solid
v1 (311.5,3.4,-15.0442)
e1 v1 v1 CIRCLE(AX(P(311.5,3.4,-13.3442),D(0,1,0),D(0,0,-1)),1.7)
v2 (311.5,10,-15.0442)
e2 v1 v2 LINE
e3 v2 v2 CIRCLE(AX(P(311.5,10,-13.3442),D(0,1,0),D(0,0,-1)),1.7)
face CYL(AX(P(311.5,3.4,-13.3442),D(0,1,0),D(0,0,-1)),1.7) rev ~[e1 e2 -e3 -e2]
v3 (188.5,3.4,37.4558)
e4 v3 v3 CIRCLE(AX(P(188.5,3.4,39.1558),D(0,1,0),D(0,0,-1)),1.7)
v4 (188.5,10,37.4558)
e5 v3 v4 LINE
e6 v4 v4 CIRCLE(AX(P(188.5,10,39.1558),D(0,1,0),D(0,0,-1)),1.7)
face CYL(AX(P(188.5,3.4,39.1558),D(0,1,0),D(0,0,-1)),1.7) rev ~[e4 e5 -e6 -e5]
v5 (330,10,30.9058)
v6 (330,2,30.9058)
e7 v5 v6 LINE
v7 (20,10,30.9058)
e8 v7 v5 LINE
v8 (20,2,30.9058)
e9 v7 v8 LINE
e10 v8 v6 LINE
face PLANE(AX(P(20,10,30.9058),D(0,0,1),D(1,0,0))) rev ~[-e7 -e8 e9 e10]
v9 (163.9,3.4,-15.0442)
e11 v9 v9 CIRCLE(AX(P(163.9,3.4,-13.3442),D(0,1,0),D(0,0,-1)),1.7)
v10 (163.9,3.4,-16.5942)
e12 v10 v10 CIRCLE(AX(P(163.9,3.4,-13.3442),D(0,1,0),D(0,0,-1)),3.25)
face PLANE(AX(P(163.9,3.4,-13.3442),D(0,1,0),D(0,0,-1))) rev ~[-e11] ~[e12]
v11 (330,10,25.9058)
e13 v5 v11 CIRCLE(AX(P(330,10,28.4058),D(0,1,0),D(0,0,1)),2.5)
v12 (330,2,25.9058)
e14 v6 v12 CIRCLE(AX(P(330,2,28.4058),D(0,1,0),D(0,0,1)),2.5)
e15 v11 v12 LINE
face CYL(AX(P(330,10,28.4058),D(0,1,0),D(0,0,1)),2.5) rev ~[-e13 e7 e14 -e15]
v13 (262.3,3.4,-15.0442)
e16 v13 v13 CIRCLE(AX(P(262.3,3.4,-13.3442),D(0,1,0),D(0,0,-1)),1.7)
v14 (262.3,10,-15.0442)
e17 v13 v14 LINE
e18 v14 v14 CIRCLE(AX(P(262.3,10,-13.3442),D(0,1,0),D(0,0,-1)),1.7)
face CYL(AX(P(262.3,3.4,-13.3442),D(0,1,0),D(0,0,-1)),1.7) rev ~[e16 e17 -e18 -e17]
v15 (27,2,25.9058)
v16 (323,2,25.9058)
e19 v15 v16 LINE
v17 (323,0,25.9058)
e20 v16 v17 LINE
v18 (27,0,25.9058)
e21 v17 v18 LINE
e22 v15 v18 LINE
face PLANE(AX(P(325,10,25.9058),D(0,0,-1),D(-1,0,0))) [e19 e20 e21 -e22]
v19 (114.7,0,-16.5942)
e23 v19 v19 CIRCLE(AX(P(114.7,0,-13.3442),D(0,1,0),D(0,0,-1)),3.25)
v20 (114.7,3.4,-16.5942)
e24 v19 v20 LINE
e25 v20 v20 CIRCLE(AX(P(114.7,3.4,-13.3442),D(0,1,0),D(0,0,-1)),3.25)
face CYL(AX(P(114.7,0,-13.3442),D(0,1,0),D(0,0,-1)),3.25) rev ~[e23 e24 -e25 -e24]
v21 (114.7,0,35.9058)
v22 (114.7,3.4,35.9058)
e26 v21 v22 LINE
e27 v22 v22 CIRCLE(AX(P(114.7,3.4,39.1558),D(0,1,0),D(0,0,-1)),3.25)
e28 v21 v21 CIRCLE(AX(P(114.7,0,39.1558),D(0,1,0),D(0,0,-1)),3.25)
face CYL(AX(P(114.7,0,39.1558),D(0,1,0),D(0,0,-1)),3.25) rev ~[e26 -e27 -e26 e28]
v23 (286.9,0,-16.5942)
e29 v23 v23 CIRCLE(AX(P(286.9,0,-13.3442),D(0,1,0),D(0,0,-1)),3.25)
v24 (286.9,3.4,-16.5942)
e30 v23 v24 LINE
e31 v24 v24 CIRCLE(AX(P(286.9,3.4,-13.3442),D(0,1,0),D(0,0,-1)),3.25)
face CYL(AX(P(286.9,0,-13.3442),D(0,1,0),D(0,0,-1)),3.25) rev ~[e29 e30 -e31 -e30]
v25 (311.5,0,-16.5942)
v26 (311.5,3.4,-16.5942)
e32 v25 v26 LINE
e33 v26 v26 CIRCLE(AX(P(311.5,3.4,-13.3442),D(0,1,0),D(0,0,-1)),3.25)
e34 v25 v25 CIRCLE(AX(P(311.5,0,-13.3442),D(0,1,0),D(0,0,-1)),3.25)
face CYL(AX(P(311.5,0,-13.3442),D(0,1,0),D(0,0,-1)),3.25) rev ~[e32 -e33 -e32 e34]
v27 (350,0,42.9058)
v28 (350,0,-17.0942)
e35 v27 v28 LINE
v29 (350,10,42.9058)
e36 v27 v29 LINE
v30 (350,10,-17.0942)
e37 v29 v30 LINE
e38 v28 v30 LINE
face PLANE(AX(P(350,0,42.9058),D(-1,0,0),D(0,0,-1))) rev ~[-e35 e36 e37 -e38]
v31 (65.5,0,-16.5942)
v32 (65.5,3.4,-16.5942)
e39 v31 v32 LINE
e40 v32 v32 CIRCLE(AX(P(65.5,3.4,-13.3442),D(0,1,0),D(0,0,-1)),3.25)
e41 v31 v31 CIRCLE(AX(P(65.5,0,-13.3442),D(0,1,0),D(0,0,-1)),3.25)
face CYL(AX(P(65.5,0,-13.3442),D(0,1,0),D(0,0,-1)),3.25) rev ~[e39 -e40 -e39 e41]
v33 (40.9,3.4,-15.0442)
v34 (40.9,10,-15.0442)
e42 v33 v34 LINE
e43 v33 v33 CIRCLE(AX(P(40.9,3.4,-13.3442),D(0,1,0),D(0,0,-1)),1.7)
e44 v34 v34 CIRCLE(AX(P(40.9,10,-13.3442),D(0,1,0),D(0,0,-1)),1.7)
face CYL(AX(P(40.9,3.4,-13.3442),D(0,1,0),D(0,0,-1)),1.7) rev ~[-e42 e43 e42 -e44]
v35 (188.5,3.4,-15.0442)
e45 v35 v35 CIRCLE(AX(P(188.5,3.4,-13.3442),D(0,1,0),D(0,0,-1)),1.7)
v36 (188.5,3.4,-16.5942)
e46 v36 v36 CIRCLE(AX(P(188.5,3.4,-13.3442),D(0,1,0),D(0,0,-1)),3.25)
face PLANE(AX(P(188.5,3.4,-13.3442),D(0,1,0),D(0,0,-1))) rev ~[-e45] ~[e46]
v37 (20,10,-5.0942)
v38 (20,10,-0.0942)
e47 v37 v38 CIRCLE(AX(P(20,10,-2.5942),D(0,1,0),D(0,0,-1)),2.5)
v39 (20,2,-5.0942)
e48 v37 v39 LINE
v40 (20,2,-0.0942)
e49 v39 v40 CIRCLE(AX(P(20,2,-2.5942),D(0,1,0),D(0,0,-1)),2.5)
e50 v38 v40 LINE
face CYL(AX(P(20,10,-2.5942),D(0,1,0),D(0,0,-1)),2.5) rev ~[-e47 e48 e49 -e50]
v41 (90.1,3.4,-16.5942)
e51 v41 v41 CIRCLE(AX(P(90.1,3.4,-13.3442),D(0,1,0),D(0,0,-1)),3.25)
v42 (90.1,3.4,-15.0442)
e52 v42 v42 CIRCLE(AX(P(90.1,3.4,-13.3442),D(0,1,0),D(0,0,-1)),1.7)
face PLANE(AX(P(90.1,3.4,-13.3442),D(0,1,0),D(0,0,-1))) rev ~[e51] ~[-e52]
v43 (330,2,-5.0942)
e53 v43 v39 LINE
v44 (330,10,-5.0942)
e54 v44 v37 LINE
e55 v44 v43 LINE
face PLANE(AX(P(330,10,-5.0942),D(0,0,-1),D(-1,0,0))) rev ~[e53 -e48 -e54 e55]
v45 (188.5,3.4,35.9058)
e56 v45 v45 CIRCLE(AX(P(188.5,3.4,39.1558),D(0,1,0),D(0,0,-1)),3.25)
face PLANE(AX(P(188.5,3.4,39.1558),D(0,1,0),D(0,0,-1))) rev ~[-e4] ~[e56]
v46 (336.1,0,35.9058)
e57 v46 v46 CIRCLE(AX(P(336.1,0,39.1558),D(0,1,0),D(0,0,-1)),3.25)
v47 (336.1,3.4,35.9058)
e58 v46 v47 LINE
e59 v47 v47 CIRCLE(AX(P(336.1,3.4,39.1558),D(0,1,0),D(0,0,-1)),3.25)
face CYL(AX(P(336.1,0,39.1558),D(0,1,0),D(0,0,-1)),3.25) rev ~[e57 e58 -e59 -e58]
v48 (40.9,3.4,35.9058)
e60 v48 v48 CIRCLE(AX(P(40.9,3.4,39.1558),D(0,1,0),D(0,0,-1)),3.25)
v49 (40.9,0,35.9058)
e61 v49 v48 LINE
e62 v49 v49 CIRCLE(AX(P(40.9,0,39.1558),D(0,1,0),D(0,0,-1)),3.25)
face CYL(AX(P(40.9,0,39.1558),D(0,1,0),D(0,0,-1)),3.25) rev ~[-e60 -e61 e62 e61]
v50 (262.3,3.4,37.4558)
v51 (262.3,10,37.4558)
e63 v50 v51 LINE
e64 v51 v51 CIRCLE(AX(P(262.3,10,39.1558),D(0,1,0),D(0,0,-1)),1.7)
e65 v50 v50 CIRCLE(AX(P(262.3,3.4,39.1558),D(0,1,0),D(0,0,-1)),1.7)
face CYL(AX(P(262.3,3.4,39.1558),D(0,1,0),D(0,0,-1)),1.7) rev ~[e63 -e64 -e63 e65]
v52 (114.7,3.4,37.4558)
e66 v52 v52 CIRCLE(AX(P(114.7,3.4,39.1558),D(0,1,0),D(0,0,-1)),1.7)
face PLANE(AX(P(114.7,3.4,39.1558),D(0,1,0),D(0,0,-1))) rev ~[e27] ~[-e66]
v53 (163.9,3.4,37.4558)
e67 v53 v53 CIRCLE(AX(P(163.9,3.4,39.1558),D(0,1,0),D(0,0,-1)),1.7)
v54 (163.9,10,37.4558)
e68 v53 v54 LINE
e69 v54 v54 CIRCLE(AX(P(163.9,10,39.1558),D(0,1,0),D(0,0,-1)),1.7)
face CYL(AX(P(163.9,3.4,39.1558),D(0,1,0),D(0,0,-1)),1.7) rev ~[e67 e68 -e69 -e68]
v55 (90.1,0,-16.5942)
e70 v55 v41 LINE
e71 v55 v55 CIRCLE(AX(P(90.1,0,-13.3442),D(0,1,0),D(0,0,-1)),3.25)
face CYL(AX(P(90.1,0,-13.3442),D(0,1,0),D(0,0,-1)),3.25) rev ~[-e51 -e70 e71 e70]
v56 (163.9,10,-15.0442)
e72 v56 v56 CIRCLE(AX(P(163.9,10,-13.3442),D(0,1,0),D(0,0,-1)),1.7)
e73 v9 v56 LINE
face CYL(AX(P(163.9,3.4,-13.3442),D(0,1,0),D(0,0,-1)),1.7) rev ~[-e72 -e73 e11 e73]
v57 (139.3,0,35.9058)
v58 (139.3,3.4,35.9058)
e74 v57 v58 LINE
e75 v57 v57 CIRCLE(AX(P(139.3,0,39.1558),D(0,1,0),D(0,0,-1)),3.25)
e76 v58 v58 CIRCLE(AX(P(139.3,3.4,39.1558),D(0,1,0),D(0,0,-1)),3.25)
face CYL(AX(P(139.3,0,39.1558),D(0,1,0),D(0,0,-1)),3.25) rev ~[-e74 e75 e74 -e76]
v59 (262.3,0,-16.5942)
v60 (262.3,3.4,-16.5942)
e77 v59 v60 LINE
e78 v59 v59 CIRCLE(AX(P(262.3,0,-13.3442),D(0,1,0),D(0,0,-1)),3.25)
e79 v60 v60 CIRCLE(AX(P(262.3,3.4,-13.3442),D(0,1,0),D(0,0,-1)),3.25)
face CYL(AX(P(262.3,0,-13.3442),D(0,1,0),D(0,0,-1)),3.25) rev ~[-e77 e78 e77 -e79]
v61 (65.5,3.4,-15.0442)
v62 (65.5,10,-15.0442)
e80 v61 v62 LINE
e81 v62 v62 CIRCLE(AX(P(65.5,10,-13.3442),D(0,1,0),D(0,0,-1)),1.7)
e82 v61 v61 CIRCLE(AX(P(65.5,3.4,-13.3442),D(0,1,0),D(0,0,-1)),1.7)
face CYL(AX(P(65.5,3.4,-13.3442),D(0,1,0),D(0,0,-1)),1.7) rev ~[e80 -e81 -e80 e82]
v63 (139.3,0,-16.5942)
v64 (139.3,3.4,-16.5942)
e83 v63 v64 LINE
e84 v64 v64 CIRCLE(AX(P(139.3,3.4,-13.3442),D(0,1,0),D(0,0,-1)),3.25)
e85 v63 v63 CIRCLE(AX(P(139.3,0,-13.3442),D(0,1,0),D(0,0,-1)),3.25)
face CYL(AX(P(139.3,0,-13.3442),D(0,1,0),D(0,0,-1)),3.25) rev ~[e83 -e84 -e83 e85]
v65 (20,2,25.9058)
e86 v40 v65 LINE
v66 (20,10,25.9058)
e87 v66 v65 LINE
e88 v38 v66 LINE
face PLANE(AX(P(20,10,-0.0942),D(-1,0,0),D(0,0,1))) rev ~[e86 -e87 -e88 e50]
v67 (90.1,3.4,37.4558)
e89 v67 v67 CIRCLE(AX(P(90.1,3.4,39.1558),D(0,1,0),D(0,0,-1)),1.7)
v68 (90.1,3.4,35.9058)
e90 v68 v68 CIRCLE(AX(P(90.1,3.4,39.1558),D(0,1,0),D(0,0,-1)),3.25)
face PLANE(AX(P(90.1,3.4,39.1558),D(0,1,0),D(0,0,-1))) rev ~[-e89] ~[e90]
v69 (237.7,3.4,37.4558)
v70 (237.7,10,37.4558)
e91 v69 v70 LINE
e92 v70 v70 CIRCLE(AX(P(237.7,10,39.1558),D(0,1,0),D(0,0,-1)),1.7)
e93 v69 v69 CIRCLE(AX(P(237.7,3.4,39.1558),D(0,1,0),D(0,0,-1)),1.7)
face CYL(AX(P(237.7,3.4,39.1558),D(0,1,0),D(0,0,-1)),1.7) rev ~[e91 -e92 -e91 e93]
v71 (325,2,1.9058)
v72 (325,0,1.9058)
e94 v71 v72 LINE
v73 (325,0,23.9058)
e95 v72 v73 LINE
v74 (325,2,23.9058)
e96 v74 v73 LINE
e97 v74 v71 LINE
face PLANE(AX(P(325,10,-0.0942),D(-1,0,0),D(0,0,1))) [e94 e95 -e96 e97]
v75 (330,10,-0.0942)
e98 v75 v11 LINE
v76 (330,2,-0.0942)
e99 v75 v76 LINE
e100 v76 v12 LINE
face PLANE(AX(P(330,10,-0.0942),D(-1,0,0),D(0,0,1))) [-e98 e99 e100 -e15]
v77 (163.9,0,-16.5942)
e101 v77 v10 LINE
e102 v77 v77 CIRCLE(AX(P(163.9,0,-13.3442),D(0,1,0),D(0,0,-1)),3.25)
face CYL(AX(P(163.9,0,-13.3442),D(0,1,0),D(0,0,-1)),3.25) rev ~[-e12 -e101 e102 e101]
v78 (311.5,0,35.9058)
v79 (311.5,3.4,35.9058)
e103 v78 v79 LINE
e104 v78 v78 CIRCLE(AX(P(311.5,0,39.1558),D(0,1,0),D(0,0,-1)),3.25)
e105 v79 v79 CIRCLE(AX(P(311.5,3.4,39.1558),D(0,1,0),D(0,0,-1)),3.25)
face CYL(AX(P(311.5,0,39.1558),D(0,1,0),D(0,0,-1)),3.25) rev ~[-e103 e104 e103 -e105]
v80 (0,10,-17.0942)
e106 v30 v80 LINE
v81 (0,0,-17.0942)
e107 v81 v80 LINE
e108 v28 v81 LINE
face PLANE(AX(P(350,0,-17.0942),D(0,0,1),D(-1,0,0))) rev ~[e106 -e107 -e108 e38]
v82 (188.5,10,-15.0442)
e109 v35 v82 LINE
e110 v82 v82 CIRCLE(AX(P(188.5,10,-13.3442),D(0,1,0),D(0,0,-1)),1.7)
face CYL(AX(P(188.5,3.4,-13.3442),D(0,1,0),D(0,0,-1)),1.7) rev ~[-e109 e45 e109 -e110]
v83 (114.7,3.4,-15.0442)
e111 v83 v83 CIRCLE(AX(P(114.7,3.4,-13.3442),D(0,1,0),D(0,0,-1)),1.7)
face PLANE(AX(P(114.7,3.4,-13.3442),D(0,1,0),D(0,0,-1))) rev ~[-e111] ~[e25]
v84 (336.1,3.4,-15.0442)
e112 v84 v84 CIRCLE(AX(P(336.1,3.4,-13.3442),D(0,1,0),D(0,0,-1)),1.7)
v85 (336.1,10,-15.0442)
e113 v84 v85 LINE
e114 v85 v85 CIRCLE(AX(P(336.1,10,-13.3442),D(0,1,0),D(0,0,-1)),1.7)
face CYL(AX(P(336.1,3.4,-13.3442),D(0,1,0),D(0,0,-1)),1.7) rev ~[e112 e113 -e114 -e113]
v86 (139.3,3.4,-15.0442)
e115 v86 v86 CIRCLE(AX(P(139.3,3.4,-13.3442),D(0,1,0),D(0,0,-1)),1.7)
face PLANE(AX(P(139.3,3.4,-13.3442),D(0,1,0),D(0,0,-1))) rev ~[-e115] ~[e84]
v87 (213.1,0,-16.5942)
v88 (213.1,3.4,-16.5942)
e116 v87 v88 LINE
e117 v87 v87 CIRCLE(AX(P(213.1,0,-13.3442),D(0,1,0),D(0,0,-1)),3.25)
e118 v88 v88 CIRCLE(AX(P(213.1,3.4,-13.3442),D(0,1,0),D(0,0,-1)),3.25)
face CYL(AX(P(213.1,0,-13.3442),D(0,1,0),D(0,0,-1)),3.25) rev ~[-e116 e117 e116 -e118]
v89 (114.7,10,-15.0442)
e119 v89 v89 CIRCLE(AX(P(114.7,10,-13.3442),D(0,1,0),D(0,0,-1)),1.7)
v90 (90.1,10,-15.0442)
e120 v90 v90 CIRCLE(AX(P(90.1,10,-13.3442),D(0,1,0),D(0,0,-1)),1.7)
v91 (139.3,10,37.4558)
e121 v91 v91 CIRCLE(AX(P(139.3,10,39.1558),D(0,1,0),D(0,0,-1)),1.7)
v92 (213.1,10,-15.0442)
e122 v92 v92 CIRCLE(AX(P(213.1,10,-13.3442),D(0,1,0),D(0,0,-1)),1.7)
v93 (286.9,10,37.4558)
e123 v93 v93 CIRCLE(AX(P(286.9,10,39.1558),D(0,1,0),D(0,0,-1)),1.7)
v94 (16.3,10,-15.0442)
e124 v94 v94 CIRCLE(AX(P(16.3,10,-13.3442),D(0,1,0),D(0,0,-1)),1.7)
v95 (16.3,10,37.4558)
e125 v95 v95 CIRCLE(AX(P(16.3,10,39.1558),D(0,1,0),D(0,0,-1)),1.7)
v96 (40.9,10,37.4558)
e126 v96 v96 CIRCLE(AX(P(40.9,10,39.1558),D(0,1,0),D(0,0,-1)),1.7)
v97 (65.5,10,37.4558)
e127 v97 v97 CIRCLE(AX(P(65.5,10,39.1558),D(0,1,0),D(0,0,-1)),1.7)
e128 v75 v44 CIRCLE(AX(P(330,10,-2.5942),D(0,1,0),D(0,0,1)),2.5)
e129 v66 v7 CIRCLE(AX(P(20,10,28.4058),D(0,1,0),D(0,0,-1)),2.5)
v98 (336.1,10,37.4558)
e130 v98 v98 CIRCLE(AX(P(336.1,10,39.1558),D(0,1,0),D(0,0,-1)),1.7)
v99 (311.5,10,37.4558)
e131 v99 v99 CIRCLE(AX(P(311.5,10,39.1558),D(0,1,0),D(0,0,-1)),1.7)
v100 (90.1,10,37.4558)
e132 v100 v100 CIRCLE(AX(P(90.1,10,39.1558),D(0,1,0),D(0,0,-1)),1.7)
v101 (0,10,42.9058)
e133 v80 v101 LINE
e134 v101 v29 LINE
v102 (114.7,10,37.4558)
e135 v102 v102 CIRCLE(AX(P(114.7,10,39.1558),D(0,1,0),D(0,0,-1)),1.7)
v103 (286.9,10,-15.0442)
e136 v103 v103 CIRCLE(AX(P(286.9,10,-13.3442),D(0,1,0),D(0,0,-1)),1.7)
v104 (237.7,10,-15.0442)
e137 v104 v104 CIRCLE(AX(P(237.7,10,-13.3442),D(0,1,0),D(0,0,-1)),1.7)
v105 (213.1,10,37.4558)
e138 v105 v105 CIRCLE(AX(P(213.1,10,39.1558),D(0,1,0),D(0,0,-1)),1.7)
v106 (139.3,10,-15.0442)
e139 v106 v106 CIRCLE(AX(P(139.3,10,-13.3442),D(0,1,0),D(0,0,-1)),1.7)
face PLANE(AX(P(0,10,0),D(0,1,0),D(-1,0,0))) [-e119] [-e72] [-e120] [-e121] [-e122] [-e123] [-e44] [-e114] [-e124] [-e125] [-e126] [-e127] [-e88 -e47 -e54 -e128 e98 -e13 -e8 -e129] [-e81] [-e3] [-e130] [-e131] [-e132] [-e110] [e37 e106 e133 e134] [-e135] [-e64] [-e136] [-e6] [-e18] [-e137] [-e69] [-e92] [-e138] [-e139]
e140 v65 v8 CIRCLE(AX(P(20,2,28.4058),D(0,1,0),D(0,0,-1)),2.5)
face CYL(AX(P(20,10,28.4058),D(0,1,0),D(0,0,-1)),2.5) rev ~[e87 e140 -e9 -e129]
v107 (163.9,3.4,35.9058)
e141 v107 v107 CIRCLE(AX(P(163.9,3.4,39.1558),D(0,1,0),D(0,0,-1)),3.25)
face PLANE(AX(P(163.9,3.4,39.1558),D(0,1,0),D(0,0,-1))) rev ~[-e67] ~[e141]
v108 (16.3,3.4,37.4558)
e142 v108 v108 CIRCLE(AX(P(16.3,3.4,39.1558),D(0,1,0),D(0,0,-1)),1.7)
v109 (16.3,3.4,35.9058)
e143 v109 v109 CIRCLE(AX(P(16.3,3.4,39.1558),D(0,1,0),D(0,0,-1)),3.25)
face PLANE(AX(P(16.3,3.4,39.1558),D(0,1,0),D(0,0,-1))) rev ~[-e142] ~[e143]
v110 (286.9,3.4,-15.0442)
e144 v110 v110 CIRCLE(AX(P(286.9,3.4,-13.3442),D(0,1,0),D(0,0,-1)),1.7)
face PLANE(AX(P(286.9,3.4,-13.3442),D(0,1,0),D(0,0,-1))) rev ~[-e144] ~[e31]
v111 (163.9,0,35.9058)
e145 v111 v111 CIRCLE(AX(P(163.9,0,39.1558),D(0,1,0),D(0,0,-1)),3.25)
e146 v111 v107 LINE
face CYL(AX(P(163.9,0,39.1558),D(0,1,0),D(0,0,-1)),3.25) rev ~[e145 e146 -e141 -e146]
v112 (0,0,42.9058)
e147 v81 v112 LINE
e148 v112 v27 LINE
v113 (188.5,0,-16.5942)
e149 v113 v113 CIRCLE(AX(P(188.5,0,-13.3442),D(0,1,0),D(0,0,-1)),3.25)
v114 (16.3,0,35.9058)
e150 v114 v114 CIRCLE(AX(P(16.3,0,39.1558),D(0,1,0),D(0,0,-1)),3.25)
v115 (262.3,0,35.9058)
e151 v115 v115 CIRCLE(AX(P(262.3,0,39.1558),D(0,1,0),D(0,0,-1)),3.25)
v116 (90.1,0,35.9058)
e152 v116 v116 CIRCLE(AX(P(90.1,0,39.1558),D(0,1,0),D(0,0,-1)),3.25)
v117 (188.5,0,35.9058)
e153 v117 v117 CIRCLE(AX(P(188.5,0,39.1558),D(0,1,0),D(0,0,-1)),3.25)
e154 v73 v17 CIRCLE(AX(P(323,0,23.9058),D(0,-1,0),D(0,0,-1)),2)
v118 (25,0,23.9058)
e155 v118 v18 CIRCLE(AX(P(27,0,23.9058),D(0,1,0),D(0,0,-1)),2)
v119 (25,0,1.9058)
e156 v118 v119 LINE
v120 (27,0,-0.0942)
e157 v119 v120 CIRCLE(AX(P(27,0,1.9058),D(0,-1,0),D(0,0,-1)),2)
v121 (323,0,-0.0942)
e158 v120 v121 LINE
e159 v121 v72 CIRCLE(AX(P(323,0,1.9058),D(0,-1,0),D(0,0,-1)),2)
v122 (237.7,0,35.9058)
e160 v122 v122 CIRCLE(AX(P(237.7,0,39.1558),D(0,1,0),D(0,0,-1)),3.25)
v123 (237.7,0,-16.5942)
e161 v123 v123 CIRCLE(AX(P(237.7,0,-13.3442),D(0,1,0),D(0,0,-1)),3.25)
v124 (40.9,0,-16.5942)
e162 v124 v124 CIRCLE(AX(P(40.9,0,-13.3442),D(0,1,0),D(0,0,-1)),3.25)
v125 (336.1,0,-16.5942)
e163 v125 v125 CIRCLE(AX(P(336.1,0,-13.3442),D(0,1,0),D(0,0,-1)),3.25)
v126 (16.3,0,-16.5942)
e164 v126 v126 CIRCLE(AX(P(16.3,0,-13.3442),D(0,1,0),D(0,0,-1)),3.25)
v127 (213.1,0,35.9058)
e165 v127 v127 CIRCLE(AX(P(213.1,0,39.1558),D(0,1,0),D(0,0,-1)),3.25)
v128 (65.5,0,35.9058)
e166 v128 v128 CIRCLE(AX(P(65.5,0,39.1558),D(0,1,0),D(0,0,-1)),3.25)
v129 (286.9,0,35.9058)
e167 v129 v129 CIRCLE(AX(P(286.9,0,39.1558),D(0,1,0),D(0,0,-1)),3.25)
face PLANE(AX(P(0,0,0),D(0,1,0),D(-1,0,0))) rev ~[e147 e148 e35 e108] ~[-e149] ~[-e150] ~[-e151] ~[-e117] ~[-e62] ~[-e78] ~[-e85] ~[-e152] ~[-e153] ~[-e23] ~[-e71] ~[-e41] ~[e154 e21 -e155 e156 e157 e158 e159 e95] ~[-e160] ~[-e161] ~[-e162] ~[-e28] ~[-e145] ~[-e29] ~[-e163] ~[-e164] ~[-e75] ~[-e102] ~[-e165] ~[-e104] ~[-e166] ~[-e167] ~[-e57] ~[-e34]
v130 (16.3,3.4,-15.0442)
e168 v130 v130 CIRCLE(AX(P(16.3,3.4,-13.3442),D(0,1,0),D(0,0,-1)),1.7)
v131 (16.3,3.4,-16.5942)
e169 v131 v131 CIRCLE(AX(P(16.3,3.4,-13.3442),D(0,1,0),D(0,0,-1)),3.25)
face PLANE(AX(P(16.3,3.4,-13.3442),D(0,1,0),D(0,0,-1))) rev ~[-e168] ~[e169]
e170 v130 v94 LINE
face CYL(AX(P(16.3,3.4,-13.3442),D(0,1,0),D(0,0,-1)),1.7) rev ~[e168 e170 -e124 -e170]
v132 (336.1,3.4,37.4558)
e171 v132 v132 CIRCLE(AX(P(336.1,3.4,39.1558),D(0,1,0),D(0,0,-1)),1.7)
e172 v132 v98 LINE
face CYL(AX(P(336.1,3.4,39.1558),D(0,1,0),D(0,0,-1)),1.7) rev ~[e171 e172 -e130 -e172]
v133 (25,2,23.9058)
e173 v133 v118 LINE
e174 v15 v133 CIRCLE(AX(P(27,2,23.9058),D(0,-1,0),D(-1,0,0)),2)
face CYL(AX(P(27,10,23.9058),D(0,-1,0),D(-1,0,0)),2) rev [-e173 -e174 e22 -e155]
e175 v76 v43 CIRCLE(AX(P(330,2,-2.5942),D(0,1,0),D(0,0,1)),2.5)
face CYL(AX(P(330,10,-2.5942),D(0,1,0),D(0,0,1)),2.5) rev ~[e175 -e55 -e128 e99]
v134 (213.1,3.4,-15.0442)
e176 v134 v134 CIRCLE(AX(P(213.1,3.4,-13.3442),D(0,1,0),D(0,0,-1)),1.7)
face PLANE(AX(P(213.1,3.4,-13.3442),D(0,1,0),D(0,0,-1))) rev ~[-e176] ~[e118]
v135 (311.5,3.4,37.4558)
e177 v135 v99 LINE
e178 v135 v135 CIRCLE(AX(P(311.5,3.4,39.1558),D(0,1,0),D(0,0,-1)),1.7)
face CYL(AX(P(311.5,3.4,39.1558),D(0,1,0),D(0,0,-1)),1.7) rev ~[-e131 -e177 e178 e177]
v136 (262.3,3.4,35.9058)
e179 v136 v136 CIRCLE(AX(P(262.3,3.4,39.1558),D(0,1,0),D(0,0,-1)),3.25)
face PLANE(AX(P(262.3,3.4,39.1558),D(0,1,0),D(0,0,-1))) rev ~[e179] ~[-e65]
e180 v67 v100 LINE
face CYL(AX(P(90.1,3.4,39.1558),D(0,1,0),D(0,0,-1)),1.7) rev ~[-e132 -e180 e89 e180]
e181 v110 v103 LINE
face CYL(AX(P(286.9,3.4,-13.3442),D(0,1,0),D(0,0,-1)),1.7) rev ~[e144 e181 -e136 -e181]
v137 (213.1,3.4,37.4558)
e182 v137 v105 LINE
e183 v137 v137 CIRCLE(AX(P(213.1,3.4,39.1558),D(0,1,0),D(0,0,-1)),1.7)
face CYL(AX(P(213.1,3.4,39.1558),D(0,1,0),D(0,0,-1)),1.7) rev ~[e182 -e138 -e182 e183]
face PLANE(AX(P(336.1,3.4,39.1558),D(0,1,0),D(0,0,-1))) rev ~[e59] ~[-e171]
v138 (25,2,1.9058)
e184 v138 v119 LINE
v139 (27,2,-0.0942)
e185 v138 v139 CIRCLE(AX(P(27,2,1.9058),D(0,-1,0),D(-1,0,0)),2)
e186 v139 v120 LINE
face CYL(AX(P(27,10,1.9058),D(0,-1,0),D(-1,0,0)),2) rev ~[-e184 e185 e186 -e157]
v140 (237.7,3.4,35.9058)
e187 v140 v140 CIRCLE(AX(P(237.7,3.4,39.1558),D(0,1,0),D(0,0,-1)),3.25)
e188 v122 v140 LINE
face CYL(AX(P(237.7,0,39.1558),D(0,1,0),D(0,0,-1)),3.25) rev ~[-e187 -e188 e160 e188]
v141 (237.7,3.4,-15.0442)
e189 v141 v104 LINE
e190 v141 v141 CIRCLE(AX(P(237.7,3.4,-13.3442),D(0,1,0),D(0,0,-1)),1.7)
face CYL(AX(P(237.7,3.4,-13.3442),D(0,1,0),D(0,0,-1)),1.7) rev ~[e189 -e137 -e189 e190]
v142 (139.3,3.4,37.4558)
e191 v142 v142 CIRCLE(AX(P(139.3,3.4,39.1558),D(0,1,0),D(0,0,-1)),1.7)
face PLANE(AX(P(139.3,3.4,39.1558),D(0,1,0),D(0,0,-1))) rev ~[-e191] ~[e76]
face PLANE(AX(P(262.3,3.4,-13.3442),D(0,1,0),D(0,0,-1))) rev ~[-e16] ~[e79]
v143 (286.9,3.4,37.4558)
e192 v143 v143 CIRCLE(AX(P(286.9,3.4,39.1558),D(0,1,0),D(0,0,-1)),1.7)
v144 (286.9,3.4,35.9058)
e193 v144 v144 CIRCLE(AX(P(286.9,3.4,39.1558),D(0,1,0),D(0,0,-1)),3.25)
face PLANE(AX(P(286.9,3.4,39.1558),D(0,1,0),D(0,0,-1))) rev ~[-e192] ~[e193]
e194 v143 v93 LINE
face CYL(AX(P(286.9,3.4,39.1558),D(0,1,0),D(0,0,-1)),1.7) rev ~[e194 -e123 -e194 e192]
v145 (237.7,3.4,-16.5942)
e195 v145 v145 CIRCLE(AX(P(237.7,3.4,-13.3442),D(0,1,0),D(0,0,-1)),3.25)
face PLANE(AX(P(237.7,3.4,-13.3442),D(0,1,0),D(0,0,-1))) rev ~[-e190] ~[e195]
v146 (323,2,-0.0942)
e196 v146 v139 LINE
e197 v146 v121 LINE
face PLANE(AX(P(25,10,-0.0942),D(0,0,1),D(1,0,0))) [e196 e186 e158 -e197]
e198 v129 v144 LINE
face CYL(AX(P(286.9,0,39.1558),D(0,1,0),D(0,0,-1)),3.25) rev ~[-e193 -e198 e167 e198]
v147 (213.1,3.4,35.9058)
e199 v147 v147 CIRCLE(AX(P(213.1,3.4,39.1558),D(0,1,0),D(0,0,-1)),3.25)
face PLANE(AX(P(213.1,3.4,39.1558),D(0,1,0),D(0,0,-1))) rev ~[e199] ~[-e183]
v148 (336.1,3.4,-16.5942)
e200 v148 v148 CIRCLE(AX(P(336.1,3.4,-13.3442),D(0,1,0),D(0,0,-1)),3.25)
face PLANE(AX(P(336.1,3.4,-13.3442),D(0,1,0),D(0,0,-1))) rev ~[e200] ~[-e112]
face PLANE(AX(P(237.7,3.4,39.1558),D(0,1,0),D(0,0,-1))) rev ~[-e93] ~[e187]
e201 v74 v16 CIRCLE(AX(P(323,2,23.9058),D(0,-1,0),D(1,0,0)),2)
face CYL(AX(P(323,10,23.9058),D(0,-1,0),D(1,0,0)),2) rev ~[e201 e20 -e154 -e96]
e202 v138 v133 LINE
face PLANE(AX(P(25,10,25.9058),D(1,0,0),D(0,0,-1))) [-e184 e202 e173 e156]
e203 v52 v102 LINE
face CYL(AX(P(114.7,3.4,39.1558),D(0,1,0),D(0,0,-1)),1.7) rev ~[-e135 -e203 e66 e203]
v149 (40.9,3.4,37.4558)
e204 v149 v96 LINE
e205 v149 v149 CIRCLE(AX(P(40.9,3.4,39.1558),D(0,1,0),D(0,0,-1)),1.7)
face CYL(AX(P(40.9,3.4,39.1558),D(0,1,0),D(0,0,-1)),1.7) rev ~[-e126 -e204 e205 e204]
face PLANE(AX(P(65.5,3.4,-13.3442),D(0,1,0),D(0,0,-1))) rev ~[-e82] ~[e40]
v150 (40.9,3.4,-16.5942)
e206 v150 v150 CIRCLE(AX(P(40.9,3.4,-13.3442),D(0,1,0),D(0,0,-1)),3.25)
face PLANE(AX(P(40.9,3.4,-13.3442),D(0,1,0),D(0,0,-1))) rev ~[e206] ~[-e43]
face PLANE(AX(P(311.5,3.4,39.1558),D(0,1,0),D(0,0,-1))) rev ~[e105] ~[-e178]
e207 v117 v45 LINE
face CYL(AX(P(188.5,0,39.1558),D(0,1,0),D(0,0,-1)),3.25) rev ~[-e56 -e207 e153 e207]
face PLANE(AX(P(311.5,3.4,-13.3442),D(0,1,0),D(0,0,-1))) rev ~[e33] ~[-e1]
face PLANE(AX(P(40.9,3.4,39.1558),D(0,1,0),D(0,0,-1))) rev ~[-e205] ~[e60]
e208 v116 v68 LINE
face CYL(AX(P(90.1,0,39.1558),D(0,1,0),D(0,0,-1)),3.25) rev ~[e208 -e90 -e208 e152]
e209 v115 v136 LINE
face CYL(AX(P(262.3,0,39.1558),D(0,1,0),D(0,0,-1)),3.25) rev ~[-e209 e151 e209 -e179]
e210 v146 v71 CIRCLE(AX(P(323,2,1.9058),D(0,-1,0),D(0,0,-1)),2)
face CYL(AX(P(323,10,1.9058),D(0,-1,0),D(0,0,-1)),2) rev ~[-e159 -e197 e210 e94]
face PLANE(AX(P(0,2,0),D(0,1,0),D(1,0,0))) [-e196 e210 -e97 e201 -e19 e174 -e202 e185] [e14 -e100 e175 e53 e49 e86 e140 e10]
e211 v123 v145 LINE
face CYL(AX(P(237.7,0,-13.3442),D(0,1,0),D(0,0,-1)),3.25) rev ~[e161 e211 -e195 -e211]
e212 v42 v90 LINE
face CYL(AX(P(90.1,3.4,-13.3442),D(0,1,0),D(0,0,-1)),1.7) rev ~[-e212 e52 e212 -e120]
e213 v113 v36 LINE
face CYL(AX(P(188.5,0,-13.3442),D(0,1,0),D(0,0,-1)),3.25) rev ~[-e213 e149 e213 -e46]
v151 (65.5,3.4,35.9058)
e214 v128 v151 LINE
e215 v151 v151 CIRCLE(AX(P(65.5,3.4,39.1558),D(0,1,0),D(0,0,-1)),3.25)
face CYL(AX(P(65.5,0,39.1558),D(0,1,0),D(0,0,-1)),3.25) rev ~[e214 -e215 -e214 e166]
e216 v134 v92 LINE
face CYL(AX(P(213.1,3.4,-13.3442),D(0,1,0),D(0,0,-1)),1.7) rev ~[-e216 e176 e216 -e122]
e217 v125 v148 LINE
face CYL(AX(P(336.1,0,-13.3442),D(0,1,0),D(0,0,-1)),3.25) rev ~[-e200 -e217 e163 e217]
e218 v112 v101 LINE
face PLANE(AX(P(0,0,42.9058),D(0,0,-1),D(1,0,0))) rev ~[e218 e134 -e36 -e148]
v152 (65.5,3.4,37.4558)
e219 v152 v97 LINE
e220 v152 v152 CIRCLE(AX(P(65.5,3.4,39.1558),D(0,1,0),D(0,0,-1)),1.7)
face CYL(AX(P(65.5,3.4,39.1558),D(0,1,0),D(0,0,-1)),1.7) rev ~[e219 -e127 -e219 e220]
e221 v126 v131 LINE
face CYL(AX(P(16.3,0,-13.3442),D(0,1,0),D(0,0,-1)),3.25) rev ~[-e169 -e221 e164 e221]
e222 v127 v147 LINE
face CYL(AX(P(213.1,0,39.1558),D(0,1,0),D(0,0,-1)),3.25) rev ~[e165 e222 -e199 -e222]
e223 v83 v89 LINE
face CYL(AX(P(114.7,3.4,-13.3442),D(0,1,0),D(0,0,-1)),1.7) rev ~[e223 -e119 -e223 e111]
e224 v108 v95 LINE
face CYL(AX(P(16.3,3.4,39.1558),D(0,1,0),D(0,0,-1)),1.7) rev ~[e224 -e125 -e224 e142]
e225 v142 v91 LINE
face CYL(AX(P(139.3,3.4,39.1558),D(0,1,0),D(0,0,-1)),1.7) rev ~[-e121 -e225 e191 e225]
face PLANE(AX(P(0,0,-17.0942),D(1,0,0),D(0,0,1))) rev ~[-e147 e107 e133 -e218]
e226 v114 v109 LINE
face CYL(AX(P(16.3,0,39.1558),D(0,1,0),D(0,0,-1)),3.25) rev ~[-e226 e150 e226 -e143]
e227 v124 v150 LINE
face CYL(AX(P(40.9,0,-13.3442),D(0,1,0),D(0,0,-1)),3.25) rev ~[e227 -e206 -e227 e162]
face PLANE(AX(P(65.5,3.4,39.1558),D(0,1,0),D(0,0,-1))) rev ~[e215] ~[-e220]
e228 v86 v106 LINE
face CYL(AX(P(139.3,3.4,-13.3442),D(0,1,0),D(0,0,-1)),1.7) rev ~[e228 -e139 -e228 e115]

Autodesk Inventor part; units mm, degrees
ref_plane "YZ Plane" through (0, 0, 0) normal (1, 0, 0) x (0, 1, 0)
ref_plane "XZ Plane" through (0, 0, 0) normal (0, 1, 0) x (-1, 0, 0)
ref_plane "XY Plane" through (0, 0, 0) normal (0, 0, 1) x (1, 0, 0)
sketch "Skizze1" plane through (0, 0, 0) normal (0, 1, 0) x (-1, 0, 0)
  line L0 (0, 42.9058) -> (-350, 42.9058)
  line L1 (-350, 42.9058) -> (-350, -17.0942)
  line L2 (-350, -17.0942) -> (0, -17.0942)
  line L3 (0, -17.0942) -> (0, 42.9058)
  point P0 (0, 0)
  dimension "d0" = 350
  dimension "d1" = 0
  dimension "d2" = 60
extrude "Extrusion1" add sketch "Skizze1" along normal blind 10
sketch "Skizze2" plane through (0, 10, 0) normal (0, 1, 0) x (1, 0, 0)
  line L0 (25, 0.0942) -> (325, 0.0942)
  line L1 (325, 0.0942) -> (325, -25.9058)
  line L2 (325, -25.9058) -> (25, -25.9058)
  line L3 (25, -25.9058) -> (25, 0.0942)
  line L4 (0, 17.0942) -> (0, -42.9058) projected
  line L5 (350, -42.9058) -> (350, 17.0942) projected
  line L6 (350, 17.0942) -> (0, 17.0942) projected
  line L7 (0, -42.9058) -> (350, -42.9058) projected
  point P0 (0, 0)
  point P1 (175, 17.0942)
  dimension "d5" = 25
  dimension "d6" = 25
  dimension "d7" = 17
  dimension "d8" = 17
extrude "Extrusion2" cut sketch "Skizze2" against normal through all contours L0 L1 L2 L3
fillet "Rundung1" radius 2 1 edges at (25, 5, -0.0942)
fillet "Rundung2" radius 2 1 edges at (25, 5, 25.9058)
fillet "Rundung3" radius 2 1 edges at (325, 5, -0.0942)
fillet "Rundung4" radius 2 1 edges at (325, 5, 25.9058)
sketch "Skizze4" plane through (0, 10, 0) normal (0, 1, 0) x (1, 0, 0)
  line L0 (20, -30.9058) -> (330, -30.9058)
  line L1 (330, 5.0942) -> (20, 5.0942)
  line L2 (25, -23.9058) -> (25, -1.9058) projected
  line L3 (323, -25.9058) -> (27, -25.9058) projected
  line L4 (27, 0.0942) -> (323, 0.0942) projected
  line L5 (325, -1.9058) -> (325, -23.9058) projected
  arc A0 (20, 5.0942) -> (20, 0.0942) centre (20, 2.5942) ccw
  arc A1 (20, -25.9058) -> (20, -30.9058) centre (20, -28.4058) ccw
  arc A2 (330, 0.0942) -> (330, 5.0942) centre (330, 2.5942) ccw
  arc A3 (330, -30.9058) -> (330, -25.9058) centre (330, -28.4058) ccw
  line L6 (330, 0.0942) -> (330, -25.9058)
  line L7 (20, 0.0942) -> (20, -25.9058)
  point P0 (0, 0)
  dimension "d32" = 5
  dimension "d33" = 5
  dimension "d110" = 2.5
  dimension "d111" = 2.5
  dimension "d112" = 2.5
  dimension "d113" = 2.5
  dimension "d114" = 5
  dimension "d115" = 5
extrude "Extrusion4" cut sketch "Skizze4" against normal blind 8
sketch "Skizze14" plane through (0, 0, 0) normal (0, -1, 0) x (1, 0, 0)
  line L0 (0, 42.9058) -> (350, 42.9058) projected
  line L1 (0, -17.0942) -> (0, 42.9058) projected
  point P0 (0, 0)
  point P1 (16.3, 39.1558)
  dimension "d116" = 3.75
  dimension "d117" = 16.3
hole "Bohrung8" at (16.3, 0, 39.1558) direction (0, 1, 0) diameter 3.4 end through all counterbore diameter 6.5 counterbore depth 3.4 clearance for "Inbusschraube DIN EN ISO 4762" size "M3" standard "DIN"
pattern_linear "Rechteckige Anordnung2" count 14 spacing 24.6 along (1, 0, 0) count 2 spacing 52.5 along (0, 0, -1) of "Bohrung8"
equation "\"d7\" = d8"
equation "\"d32\" = d33"
equation "\"d114\" = d33"
equation "\"d115\" = d33"
